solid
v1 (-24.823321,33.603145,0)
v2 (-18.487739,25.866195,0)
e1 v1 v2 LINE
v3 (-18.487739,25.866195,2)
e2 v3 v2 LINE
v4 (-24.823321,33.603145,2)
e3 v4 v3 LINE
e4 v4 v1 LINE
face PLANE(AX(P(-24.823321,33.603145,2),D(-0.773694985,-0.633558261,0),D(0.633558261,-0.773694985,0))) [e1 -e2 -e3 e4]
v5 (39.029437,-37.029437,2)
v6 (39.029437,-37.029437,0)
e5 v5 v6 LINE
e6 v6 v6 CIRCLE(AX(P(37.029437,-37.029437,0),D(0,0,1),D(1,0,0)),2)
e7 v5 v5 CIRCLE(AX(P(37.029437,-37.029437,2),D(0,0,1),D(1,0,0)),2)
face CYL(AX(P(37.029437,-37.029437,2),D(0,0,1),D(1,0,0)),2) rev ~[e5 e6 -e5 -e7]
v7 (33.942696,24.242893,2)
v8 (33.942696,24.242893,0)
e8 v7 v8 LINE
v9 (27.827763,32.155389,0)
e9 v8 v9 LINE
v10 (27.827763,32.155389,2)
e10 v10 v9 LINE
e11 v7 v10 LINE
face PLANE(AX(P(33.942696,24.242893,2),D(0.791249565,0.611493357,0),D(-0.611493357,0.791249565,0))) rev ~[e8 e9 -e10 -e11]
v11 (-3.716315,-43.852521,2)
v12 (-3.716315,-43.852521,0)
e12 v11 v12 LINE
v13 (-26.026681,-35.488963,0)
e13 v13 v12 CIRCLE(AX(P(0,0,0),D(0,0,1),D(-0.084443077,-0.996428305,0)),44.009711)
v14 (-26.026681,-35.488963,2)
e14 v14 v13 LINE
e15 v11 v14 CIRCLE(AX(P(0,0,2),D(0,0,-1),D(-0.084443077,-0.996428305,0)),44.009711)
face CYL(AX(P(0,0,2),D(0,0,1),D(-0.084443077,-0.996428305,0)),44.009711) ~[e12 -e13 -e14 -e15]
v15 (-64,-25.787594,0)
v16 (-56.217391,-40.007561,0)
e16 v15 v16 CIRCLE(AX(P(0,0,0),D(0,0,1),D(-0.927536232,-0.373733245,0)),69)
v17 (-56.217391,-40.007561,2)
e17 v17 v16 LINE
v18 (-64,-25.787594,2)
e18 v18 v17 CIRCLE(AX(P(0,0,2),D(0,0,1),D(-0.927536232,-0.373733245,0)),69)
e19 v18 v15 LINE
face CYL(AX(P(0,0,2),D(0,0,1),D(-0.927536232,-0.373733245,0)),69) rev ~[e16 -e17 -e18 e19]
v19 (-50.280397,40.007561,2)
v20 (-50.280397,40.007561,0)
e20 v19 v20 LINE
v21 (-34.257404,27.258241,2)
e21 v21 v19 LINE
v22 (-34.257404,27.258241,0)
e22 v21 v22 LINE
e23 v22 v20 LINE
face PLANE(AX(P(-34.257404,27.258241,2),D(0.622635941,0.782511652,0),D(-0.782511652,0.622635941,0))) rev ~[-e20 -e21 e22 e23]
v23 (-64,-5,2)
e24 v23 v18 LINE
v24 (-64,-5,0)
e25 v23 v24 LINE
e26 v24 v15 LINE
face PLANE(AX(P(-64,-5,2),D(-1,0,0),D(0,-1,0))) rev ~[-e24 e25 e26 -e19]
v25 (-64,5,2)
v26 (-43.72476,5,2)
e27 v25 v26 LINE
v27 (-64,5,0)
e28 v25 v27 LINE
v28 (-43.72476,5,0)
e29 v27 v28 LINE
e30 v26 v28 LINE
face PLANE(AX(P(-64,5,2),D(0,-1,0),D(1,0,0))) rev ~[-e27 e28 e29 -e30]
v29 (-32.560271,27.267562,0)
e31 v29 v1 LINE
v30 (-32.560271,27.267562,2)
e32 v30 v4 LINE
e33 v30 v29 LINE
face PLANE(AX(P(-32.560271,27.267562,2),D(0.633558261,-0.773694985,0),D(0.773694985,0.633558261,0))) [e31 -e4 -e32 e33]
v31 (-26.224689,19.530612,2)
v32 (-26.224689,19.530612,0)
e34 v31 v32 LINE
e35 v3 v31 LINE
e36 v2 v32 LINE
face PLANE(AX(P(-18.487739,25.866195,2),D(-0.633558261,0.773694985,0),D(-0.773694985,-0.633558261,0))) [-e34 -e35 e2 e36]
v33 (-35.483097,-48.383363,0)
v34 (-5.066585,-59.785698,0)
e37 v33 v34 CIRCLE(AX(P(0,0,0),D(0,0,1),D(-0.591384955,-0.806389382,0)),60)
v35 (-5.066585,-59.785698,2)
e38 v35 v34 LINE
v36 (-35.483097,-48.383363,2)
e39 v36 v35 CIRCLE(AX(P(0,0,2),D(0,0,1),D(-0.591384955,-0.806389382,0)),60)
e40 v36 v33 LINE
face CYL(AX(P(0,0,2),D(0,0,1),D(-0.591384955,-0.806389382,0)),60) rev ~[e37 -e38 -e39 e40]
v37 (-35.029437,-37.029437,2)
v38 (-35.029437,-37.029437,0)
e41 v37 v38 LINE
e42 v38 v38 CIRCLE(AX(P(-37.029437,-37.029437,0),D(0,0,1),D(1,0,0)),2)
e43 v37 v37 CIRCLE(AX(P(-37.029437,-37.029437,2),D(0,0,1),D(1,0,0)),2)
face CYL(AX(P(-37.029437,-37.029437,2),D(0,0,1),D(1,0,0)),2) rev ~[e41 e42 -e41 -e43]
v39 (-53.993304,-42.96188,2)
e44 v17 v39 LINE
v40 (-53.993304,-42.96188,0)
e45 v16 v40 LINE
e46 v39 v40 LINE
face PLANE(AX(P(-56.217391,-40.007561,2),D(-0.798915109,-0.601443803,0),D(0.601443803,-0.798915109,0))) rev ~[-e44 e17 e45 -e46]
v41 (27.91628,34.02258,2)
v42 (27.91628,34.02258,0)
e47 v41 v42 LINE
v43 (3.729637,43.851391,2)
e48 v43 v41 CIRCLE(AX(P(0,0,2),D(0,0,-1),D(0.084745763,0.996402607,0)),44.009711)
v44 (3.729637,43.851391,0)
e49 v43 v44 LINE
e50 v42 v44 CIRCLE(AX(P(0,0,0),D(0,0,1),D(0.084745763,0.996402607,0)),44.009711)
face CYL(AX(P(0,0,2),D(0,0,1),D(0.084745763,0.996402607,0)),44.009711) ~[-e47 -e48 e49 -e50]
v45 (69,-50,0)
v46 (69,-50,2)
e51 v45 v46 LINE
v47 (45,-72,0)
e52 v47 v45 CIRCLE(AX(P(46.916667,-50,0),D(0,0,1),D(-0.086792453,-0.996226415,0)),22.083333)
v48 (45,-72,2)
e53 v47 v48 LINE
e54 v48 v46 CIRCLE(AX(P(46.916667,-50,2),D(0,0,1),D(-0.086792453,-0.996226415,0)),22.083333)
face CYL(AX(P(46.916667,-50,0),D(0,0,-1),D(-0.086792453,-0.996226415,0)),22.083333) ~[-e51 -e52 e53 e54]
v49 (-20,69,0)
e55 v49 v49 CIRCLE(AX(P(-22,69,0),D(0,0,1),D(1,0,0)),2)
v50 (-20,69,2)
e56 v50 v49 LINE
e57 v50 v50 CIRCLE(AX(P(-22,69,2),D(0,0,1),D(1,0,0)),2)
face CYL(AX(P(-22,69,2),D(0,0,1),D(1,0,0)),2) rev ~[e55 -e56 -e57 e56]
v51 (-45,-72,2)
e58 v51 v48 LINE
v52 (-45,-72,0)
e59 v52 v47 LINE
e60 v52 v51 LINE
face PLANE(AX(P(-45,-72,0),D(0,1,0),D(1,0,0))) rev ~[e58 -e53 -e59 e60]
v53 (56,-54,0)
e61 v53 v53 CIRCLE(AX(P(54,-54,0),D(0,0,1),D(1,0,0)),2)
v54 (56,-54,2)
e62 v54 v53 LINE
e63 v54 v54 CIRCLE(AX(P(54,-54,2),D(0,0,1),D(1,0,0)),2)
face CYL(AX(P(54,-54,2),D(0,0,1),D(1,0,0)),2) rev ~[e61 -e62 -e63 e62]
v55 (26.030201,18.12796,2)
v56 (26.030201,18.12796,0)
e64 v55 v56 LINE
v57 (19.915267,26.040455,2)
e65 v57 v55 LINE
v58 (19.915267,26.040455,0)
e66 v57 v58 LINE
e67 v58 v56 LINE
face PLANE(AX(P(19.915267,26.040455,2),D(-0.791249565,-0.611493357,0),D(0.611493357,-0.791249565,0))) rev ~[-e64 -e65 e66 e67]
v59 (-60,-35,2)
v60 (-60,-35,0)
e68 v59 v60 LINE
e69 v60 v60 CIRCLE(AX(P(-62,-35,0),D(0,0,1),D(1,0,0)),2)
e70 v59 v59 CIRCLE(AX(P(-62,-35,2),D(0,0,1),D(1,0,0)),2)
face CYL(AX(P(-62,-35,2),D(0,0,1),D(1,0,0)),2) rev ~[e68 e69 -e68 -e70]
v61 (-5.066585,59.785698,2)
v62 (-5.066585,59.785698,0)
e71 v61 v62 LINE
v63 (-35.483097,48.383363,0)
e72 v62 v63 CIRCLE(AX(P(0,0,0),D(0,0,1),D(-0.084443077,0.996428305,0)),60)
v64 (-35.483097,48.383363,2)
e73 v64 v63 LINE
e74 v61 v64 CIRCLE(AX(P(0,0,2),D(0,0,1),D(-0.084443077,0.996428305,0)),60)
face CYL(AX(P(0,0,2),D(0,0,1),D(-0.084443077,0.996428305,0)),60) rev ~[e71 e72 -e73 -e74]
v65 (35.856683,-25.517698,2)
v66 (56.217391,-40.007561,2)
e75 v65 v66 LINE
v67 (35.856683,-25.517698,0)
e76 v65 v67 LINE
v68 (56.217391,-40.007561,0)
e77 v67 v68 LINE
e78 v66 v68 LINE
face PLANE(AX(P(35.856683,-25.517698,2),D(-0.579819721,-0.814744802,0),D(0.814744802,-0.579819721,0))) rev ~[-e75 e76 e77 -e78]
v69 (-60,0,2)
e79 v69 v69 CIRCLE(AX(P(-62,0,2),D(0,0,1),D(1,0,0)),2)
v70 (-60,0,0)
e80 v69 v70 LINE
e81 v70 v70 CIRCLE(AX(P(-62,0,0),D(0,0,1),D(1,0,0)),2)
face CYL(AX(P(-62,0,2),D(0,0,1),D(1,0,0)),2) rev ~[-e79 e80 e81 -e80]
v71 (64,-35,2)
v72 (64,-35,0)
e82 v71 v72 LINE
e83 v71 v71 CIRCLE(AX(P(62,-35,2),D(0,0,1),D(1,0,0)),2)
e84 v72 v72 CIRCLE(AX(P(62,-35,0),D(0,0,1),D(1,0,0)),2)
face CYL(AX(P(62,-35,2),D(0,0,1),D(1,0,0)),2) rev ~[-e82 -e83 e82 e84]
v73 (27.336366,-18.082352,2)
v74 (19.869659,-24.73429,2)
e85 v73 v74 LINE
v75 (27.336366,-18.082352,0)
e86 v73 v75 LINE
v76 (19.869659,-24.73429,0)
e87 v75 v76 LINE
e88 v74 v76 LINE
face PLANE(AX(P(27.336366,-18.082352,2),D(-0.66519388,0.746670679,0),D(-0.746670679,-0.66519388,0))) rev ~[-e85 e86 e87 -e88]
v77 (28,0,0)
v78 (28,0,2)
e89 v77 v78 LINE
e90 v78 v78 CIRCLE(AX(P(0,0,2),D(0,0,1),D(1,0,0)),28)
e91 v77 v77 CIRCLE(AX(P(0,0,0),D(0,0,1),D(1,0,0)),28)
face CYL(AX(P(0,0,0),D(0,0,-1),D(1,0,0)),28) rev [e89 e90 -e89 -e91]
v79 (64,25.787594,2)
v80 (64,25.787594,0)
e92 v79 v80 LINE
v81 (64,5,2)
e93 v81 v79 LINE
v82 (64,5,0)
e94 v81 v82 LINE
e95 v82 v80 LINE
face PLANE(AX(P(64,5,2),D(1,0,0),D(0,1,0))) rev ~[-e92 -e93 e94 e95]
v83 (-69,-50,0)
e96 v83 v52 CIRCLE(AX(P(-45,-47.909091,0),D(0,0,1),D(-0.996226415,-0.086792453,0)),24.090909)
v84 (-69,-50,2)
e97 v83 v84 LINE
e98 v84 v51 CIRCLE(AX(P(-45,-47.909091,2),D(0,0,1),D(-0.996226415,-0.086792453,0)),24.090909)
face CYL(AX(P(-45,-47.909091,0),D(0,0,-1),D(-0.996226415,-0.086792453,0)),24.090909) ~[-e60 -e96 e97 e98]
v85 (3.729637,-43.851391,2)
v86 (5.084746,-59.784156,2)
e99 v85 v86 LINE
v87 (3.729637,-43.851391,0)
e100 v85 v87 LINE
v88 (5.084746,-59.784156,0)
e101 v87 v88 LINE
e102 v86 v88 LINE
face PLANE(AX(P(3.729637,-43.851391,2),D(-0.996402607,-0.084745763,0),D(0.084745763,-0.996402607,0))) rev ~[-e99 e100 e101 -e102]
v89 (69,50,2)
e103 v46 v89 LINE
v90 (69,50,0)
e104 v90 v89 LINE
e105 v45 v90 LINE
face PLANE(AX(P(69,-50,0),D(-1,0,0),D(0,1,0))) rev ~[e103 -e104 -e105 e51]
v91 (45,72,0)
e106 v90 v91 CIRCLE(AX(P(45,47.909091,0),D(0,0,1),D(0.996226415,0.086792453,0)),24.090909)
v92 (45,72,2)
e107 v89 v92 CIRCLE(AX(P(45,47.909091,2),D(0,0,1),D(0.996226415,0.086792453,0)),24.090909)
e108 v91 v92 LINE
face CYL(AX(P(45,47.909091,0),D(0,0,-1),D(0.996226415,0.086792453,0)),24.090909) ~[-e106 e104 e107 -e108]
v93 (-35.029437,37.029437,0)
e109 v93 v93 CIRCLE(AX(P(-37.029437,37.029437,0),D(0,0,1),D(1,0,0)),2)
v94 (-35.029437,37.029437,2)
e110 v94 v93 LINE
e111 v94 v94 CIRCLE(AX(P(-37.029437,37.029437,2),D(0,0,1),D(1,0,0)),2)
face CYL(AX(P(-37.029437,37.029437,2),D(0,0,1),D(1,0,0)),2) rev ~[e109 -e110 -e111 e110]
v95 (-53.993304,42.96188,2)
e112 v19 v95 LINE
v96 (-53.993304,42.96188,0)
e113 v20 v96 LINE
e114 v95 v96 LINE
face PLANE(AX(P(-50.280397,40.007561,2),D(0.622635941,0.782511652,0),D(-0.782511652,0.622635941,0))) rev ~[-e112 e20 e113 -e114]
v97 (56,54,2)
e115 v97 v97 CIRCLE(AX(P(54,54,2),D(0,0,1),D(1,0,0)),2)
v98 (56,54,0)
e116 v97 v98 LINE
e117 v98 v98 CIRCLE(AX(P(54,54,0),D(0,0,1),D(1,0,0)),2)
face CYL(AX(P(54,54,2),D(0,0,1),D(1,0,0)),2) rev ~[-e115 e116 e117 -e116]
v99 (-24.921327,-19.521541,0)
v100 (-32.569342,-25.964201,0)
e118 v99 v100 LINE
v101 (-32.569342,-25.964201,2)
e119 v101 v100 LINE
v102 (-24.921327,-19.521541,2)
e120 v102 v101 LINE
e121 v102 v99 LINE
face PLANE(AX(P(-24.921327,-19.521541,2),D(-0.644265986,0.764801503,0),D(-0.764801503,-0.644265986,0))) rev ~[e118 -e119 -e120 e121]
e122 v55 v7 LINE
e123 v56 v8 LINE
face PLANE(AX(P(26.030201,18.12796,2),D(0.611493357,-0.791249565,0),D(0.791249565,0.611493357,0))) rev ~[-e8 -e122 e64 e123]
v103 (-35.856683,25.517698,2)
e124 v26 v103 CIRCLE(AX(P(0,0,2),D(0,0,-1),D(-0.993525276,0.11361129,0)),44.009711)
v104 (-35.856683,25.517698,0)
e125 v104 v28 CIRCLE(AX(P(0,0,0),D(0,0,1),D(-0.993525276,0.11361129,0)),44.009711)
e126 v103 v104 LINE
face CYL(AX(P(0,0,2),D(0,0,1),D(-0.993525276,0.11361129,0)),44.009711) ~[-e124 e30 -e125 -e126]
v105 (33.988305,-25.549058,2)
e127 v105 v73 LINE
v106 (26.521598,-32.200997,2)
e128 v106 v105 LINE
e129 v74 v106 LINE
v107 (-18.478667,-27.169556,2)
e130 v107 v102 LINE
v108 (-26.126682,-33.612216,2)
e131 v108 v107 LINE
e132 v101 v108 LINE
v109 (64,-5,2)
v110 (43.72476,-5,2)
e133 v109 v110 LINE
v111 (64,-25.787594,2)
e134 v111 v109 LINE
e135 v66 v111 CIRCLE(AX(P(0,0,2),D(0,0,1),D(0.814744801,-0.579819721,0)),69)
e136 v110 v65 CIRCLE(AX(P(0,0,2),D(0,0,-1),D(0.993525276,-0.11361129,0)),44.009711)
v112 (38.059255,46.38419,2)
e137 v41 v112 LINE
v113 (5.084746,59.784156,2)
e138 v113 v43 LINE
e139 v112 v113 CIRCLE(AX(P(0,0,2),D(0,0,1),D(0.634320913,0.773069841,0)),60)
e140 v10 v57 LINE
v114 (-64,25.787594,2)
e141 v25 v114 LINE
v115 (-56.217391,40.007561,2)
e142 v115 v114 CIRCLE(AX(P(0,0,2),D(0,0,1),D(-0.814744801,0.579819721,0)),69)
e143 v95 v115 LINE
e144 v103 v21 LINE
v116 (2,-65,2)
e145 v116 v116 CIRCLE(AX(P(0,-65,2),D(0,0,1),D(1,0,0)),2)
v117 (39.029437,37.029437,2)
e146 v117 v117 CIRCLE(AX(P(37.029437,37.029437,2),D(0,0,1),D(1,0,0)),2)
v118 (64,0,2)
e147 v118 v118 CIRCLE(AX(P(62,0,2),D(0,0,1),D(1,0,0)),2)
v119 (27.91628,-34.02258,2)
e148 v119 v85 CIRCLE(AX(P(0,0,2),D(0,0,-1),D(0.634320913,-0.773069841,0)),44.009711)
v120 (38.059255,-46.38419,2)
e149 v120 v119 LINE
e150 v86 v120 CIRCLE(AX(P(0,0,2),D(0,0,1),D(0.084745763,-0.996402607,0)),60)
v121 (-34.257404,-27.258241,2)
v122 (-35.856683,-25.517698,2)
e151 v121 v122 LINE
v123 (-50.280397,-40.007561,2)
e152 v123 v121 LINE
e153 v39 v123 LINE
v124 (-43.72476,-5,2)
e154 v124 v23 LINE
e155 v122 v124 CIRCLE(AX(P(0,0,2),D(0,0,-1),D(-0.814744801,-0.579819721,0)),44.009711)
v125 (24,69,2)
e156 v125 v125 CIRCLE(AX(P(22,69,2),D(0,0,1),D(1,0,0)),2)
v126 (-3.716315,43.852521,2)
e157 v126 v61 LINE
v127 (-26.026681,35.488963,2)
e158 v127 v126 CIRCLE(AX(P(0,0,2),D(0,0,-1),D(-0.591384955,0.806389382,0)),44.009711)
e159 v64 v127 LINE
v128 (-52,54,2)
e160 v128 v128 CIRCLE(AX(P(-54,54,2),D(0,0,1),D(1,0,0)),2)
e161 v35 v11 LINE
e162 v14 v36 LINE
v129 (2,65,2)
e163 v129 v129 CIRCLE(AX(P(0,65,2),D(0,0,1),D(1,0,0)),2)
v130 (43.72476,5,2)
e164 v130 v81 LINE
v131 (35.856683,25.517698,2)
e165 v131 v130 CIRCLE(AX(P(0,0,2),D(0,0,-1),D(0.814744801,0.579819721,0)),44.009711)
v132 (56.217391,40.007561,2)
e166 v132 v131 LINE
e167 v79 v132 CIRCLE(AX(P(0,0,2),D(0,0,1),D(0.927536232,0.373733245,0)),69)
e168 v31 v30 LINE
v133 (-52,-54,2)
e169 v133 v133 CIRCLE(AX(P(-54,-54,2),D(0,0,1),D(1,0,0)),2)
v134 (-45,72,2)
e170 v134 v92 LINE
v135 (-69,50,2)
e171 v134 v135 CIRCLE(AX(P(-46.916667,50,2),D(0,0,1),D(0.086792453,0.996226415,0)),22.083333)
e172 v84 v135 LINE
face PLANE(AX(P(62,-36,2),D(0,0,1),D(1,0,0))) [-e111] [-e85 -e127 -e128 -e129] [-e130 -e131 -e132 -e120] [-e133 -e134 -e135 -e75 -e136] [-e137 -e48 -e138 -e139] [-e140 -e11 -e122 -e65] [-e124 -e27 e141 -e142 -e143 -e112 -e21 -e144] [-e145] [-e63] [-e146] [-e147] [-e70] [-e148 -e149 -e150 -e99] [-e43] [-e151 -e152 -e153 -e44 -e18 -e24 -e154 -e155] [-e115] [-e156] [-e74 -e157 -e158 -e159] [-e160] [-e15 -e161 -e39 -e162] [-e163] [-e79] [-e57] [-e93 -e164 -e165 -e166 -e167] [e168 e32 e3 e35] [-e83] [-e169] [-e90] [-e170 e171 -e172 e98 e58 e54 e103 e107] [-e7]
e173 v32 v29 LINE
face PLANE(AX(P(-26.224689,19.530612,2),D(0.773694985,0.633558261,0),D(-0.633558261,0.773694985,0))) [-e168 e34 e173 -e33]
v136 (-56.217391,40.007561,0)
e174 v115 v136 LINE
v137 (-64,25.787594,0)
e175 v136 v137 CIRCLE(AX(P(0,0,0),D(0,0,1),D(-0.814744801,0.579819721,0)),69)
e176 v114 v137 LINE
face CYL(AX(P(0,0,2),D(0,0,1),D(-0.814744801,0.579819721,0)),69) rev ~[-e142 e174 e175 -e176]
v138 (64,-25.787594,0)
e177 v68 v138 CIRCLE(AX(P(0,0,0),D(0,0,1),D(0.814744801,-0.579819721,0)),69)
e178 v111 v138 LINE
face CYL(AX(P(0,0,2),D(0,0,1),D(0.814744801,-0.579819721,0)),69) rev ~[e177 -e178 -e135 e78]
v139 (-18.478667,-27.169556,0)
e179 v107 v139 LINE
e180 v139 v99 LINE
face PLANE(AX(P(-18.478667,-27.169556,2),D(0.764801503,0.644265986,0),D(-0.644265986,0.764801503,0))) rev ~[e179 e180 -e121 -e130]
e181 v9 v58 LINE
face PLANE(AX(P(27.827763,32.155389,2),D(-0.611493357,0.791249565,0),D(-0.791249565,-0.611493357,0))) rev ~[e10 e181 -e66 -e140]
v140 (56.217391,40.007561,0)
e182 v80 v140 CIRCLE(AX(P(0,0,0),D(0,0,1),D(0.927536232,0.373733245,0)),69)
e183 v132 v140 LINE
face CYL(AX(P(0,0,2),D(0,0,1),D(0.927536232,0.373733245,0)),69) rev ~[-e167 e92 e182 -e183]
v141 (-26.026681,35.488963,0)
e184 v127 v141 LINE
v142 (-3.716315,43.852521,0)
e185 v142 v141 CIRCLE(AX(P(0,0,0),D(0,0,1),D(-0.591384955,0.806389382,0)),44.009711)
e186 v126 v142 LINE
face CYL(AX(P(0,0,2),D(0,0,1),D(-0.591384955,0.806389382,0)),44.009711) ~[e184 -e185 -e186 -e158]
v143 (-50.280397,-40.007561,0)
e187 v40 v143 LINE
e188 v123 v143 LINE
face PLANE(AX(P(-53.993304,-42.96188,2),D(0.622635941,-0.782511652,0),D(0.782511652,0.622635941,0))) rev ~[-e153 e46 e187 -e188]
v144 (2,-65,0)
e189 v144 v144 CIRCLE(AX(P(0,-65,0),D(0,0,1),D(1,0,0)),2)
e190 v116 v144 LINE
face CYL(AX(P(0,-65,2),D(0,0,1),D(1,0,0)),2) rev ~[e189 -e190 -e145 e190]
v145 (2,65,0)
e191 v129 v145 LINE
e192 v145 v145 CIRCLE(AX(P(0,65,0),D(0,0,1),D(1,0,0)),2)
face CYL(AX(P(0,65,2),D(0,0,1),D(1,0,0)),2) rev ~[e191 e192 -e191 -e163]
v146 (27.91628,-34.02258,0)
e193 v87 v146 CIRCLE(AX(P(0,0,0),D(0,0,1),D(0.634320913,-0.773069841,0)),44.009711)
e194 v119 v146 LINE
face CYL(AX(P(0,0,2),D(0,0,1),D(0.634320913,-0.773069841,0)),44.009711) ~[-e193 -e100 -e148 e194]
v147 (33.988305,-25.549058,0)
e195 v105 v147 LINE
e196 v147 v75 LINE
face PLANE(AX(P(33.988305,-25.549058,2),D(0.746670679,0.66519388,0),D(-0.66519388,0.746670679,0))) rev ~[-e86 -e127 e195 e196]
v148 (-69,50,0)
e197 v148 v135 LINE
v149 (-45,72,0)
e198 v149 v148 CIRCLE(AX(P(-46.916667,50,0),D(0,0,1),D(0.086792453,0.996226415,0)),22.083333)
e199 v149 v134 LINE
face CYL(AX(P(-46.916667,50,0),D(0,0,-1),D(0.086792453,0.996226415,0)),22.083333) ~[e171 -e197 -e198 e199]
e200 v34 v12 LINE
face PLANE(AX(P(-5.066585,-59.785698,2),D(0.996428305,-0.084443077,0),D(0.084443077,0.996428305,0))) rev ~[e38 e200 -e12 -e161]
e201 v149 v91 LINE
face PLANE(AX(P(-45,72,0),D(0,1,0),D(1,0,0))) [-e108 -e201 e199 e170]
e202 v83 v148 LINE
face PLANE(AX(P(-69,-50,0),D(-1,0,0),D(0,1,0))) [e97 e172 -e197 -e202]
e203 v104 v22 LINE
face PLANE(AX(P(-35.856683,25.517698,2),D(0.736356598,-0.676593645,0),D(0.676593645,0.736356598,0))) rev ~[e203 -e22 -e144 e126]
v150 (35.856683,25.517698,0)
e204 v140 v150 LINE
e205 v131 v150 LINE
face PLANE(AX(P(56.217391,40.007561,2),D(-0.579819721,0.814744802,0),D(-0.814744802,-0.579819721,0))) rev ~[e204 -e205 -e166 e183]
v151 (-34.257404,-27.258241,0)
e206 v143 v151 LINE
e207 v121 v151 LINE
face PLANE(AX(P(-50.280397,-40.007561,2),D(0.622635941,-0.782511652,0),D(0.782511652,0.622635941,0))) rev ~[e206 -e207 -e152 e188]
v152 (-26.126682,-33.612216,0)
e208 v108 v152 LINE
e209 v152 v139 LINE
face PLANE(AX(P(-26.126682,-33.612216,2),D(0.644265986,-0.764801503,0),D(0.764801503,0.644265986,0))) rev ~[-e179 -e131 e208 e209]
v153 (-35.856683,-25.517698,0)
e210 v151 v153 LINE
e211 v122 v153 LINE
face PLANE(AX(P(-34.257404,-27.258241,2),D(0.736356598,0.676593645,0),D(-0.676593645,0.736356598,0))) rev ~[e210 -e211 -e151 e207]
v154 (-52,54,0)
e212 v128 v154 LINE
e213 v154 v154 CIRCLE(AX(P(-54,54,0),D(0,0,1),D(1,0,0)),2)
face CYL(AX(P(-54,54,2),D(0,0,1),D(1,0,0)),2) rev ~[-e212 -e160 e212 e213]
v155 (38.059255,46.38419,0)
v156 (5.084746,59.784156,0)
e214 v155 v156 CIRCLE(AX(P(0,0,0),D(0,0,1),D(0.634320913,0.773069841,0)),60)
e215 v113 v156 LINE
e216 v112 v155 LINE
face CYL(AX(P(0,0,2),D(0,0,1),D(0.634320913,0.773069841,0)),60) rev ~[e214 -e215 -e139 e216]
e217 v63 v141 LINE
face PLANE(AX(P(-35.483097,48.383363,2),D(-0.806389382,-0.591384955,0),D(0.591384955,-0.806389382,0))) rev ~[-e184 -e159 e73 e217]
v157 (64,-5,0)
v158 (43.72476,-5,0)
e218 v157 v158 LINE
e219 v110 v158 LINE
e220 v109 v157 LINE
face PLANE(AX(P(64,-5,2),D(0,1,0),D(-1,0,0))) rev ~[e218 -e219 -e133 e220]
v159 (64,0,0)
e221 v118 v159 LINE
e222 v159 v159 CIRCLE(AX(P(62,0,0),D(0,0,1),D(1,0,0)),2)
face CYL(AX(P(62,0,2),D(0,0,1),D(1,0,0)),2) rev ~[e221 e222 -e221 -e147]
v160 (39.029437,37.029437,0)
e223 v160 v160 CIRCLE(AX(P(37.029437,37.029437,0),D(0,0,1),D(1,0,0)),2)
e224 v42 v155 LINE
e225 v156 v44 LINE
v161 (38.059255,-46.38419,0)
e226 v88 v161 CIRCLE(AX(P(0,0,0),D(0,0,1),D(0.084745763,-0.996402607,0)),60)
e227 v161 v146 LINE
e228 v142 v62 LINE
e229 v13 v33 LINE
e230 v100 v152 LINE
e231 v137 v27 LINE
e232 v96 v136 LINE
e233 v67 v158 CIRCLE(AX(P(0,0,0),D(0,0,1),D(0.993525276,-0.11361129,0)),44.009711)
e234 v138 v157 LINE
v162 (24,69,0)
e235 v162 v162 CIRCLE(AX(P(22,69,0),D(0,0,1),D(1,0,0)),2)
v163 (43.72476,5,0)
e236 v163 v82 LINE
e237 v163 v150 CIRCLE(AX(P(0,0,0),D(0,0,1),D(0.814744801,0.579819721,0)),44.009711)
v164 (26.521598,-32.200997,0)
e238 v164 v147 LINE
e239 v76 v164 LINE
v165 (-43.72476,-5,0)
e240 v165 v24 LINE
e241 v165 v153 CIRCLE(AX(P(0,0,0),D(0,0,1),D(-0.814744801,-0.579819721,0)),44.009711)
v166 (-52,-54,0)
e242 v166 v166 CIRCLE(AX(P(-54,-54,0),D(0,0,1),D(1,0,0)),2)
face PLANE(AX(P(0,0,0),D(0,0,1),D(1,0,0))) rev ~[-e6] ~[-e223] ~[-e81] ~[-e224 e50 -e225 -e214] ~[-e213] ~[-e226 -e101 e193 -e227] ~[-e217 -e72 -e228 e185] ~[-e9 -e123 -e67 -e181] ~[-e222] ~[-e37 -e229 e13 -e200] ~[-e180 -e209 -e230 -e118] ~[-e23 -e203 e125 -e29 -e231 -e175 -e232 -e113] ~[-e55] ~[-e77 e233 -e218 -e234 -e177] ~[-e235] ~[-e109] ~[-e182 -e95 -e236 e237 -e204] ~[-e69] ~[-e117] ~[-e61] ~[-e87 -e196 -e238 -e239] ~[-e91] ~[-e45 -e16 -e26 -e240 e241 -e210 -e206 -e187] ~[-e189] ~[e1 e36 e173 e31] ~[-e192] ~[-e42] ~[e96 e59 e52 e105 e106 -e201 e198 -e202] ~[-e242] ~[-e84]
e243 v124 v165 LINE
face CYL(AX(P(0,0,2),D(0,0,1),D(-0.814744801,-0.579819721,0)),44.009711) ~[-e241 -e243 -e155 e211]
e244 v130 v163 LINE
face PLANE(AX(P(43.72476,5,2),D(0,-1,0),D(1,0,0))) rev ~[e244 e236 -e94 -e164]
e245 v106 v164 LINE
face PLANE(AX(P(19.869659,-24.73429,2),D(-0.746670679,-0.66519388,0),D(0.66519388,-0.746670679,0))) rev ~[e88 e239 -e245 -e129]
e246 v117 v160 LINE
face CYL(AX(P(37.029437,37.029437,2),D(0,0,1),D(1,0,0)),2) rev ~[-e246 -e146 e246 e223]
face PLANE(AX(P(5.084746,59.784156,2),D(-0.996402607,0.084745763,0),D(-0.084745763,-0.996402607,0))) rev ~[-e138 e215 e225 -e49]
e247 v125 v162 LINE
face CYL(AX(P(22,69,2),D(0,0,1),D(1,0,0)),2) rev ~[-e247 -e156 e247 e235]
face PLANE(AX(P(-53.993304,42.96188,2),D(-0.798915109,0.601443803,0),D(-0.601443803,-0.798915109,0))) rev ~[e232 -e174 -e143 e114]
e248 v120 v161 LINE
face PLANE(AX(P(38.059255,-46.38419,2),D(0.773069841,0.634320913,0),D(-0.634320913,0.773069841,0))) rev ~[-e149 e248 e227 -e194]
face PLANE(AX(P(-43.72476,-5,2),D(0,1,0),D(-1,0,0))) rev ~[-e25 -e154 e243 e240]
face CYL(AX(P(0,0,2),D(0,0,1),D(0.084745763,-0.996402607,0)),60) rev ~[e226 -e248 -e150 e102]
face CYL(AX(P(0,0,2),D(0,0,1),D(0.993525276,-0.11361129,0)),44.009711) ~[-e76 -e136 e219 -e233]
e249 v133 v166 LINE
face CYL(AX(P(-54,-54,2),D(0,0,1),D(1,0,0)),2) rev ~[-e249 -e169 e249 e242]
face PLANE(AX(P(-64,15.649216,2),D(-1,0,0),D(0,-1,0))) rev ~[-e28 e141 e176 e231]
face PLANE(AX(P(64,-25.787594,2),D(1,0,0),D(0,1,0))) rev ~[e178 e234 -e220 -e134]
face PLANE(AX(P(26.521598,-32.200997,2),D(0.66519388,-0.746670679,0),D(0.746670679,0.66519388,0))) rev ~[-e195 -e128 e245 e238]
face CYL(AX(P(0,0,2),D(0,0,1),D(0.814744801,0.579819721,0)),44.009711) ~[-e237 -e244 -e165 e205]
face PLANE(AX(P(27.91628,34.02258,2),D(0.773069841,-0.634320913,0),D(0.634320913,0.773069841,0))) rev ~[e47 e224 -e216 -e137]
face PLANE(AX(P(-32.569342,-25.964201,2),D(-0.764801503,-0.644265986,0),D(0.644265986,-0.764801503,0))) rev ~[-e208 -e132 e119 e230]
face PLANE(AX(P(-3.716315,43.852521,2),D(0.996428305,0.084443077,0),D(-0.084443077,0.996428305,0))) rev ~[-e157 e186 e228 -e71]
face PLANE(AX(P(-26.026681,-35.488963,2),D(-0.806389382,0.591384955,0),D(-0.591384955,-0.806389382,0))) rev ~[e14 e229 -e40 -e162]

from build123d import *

# Parameters (mm, degrees)
SKETCH1_W           = 90
SKETCH1_H           = 100
SKETCH1_H_2         = 22
SKETCH1_W_2         = 24
BOSS_EXTRUDE1_DEPTH = 2
CUT_EXTRUDE1_DEPTH  = 10
CUT_EXTRUDE2_DEPTH  = 10
SKETCH4_R           = 30
CUT_EXTRUDE3_DEPTH  = 10
CUT_EXTRUDE4_DEPTH  = 10
CUT_EXTRUDE5_DEPTH  = 10
BOSS_EXTRUDE3_START = -2
SKETCH8_R           = 30
SKETCH8_R_2         = 28
BOSS_EXTRUDE3_DEPTH = 2
SKETCH9_R           = 2
CUT_EXTRUDE6_DEPTH  = 10
SKETCH10_R          = 2
BOSS_EXTRUDE4_DEPTH = 2
SKETCH11_R          = 2
CUT_EXTRUDE7_DEPTH  = 10
SKETCH12_R          = 2
BOSS_EXTRUDE5_DEPTH = 2
SKETCH13_R          = 2
CUT_EXTRUDE8_DEPTH  = 5


with BuildPart() as part:
    # Sketch1 → Boss-Extrude1 (new body)
    with BuildSketch(Plane.XY):
        Rectangle(SKETCH1_W, SKETCH1_H)
        with Locations((0, 61)):
            Rectangle(SKETCH1_W, SKETCH1_H_2)
        with Locations((57, 0)):
            Rectangle(SKETCH1_W_2, SKETCH1_H)
        with BuildLine():
            Line((45, 50), (69, 50))
            ThreePointArc((69, 50), (61.278820596, 65.667804287), (45, 72))
            Line((45, 72), (45, 50))
        make_face()
        with BuildLine():
            ThreePointArc((45, -72), (61.83891888, -66.278820596), (69, -50))
            Line((69, -50), (45, -50))
            Line((45, -50), (45, -72))
        make_face()
        with Locations((0, -61)):
            Rectangle(SKETCH1_W, SKETCH1_H_2)
        with BuildLine():
            Line((-45, -72), (-45, -50))
            Line((-45, -50), (-69, -50))
            ThreePointArc((-69, -50), (-61.278820596, -65.667804287), (-45, -72))
        make_face()
        with Locations((-57, 0)):
            Rectangle(SKETCH1_W_2, SKETCH1_H)
        with BuildLine():
            Line((-69, 50), (-45, 50))
            Line((-45, 50), (-45, 72))
            ThreePointArc((-45, 72), (-61.83891888, 66.278820596), (-69, 50))
        make_face()
    extrude(amount=BOSS_EXTRUDE1_DEPTH)

    # Sketch2 → Cut-Extrude1 (cut)
    with BuildSketch(Plane.XY.offset(2)):
        with BuildLine():
            Line((-60.760739313, 25.787593916), (-64, 15.649215929))
            Line((-64, 15.649215929), (-64, 5))
            Line((-64, 5), (-43.724760028, 5))
            ThreePointArc((-43.724760028, 5), (-41.091915324, 15.757827722), (-35.856683042, 25.517698186))
            Line((-35.856683042, 25.517698186), (-56.217391304, 40.007560722))
            ThreePointArc((-56.217391304, 40.007560722), (-60.52773874, 33.126920216), (-64, 25.787593916))
            Line((-64, 25.787593916), (-60.760739313, 25.787593916))
        make_face()
        with BuildLine():
            Line((-64, -5), (-64, -25.787593916))
            ThreePointArc((-64, -25.787593916), (-60.52773874, -33.126920216), (-56.217391304, -40.007560722))
            Line((-56.217391304, -40.007560722), (-35.856683042, -25.517698186))
            ThreePointArc((-35.856683042, -25.517698186), (-41.091915324, -15.757827722), (-43.724760028, -5))
            Line((-43.724760028, -5), (-64, -5))
        make_face()
        with BuildLine():
            Line((-35.483097289, 48.383362913), (-26.026680798, 35.488963441))
            ThreePointArc((-26.026680798, 35.488963441), (-15.448259809, 41.209293956), (-3.716315379, 43.852521472))
            Line((-3.716315379, 43.852521472), (-5.066584601, 59.785698294))
            ThreePointArc((-5.066584601, 59.785698294), (-21.061160661, 56.182092446), (-35.483097289, 48.383362913))
        make_face()
        with BuildLine():
            ThreePointArc((64, 25.787593916), (60.52773874, 33.126920216), (56.217391304, 40.007560722))
            Line((56.217391304, 40.007560722), (35.856683042, 25.517698186))
            ThreePointArc((35.856683042, 25.517698186), (41.091915324, 15.757827722), (43.724760028, 5))
            Line((43.724760028, 5), (64, 5))
            Line((64, 5), (64, 25.787593916))
        make_face()
        with BuildLine():
            Line((-26.026680798, -35.488963441), (-35.483097289, -48.383362913))
            ThreePointArc((-35.483097289, -48.383362913), (-21.061160661, -56.182092446), (-5.066584601, -59.785698294))
            Line((-5.066584601, -59.785698294), (-3.716315379, -43.852521472))
            ThreePointArc((-3.716315379, -43.852521472), (-15.448259809, -41.209293956), (-26.026680798, -35.488963441))
        make_face()
        with BuildLine():
            ThreePointArc((56.217391304, -40.007560722), (60.52773874, -33.126920216), (64, -25.787593916))
            Line((64, -25.787593916), (64, -5))
            Line((64, -5), (43.724760028, -5))
            ThreePointArc((43.724760028, -5), (41.091915324, -15.757827722), (35.856683042, -25.517698186))
            Line((35.856683042, -25.517698186), (56.217391304, -40.007560722))
        make_face()
        with BuildLine():
            Line((27.916279909, 34.022580083), (38.059254795, 46.384190458))
            ThreePointArc((38.059254795, 46.384190458), (22.588514074, 55.585600941), (5.084745763, 59.784156434))
            Line((5.084745763, 59.784156434), (3.729636503, 43.851390526))
            ThreePointArc((3.729636503, 43.851390526), (16.568566174, 40.771770312), (27.916279909, 34.022580083))
        make_face()
        with BuildLine():
            Line((3.729636503, -43.851390526), (5.084745763, -59.784156434))
            ThreePointArc((5.084745763, -59.784156434), (22.588514074, -55.585600941), (38.059254795, -46.384190458))
            Line((38.059254795, -46.384190458), (27.916279909, -34.022580083))
            ThreePointArc((27.916279909, -34.022580083), (16.568566174, -40.771770312), (3.729636503, -43.851390526))
        make_face()
    extrude(amount=-CUT_EXTRUDE1_DEPTH, mode=Mode.SUBTRACT)

    # Sketch3 → Cut-Extrude2 (cut)
    with BuildSketch(Plane.XY.offset(2)):
        Polygon((-64, 25.787593916), (-64, 15.649215929), (-60.760739313, 25.787593916), align=None)
    extrude(amount=-CUT_EXTRUDE2_DEPTH, mode=Mode.SUBTRACT)

    # Sketch4 → Cut-Extrude3 (cut)
    with BuildSketch(Plane(origin=(0, 0, 0), x_dir=(-1, 0, 0), z_dir=(0, 0, -1))):
        Circle(SKETCH4_R)
    extrude(amount=-CUT_EXTRUDE3_DEPTH, mode=Mode.SUBTRACT)

    # Sketch6 → Cut-Extrude4 (cut)
    with BuildSketch(Plane.XY.offset(2)):
        Polygon((-35.856683042, -25.517698186), (-56.217391304, -40.007560722), (-50.280397209, -40.007560722), (-34.257403731, -27.258240508), align=None)
        Polygon((-50.280397209, 40.007560722), (-56.217391304, 40.007560722), (-35.856683042, 25.517698186), (-34.257403731, 27.258240508), align=None)
        Polygon((-50.280397209, -40.007560722), (-56.217391304, -40.007560722), (-53.993303971, -42.96187992), align=None)
        Polygon((-53.993303971, 42.96187992), (-56.217391304, 40.007560722), (-50.280397209, 40.007560722), align=None)
    extrude(amount=-CUT_EXTRUDE4_DEPTH, mode=Mode.SUBTRACT)

    # Sketch7 → Cut-Extrude5 (cut)
    with BuildSketch(Plane.XY.offset(2)):
        Polygon((-32.560271117, 27.267561972), (-24.823321267, 33.603144582), (-18.487738656, 25.866194731), (-26.224688507, 19.530612121), align=None)
        Polygon((27.827762823, 32.155388995), (19.915267174, 26.040455421), (26.030200748, 18.127959772), (33.942696396, 24.242893346), align=None)
        Polygon((33.988304577, -25.549058378), (27.336365779, -18.082351592), (19.869658993, -24.734290389), (26.521597791, -32.200997176), align=None)
        Polygon((-26.126682472, -33.612215797), (-18.478667441, -27.169555937), (-24.921327301, -19.521540905), (-32.569342333, -25.964200766), align=None)
    extrude(amount=-CUT_EXTRUDE5_DEPTH, mode=Mode.SUBTRACT)

    # Sketch8 → Boss-Extrude3 (add)
    with BuildSketch(Plane.XY.offset(2).offset(BOSS_EXTRUDE3_START)):
        Circle(SKETCH8_R)
        Circle(SKETCH8_R_2, mode=Mode.SUBTRACT)
    extrude(amount=BOSS_EXTRUDE3_DEPTH)

    # Sketch9 → Cut-Extrude6 (cut)
    with BuildSketch(Plane.XY.offset(2)):
        with Locations((13, 29.149963044)):
            Circle(SKETCH9_R)
        with Locations((-13, 29.149963044)):
            Circle(SKETCH9_R)
        with Locations((-22, 69)):
            Circle(SKETCH9_R)
        with Locations((22, 69)):
            Circle(SKETCH9_R)
        with Locations((62, -36.850036956)):
            Circle(SKETCH9_R)
        with Locations((-62, -36.850036956)):
            Circle(SKETCH9_R)
        with Locations((0, -36.850036956)):
            Circle(SKETCH9_R)
        with Locations((0, 65)):
            Circle(SKETCH9_R)
        with Locations((62, 0)):
            Circle(SKETCH9_R)
        with Locations((-62, 0)):
            Circle(SKETCH9_R)
        with Locations((0, -65)):
            Circle(SKETCH9_R)
        with Locations((-54, 54)):
            Circle(SKETCH9_R)
        with Locations((54, 54)):
            Circle(SKETCH9_R)
        with Locations((54, -54)):
            Circle(SKETCH9_R)
        with Locations((-54, -54)):
            Circle(SKETCH9_R)
        with Locations((-37.029437252, 37.029437252)):
            Circle(SKETCH9_R)
        with Locations((37.029437252, 37.029437252)):
            Circle(SKETCH9_R)
        with Locations((37.029437252, -37.029437252)):
            Circle(SKETCH9_R)
        with Locations((-37.029437252, -37.029437252)):
            Circle(SKETCH9_R)
    extrude(amount=-CUT_EXTRUDE6_DEPTH, mode=Mode.SUBTRACT)

    # Sketch10 → Boss-Extrude4 (add)
    with BuildSketch(Plane.XY.offset(2)):
        with Locations((62, -36.850036956)):
            Circle(SKETCH10_R)
        with Locations((-62, -36.850036956)):
            Circle(SKETCH10_R)
        with Locations((13, 29.149963044)):
            Circle(SKETCH10_R)
        with Locations((-13, 29.149963044)):
            Circle(SKETCH10_R)
        with Locations((0, -36.850036956)):
            Circle(SKETCH10_R)
    extrude(amount=-BOSS_EXTRUDE4_DEPTH)

    # Sketch11 → Cut-Extrude7 (cut)
    with BuildSketch(Plane.XY.offset(2)):
        with Locations((-62, -36)):
            Circle(SKETCH11_R)
        with Locations((62, -36)):
            Circle(SKETCH11_R)
    extrude(amount=-CUT_EXTRUDE7_DEPTH, mode=Mode.SUBTRACT)

    # Sketch12 → Boss-Extrude5 (add)
    with BuildSketch(Plane.XY.offset(2)):
        with Locations((62, -36)):
            Circle(SKETCH12_R)
        with Locations((-62, -36)):
            Circle(SKETCH12_R)
    extrude(amount=-BOSS_EXTRUDE5_DEPTH)

    # Sketch13 → Cut-Extrude8 (cut)
    with BuildSketch(Plane.XY.offset(2)):
        with Locations((62, -35)):
            Circle(SKETCH13_R)
        with Locations((-62, -35)):
            Circle(SKETCH13_R)
    extrude(amount=-CUT_EXTRUDE8_DEPTH, mode=Mode.SUBTRACT)


solid = part.part
